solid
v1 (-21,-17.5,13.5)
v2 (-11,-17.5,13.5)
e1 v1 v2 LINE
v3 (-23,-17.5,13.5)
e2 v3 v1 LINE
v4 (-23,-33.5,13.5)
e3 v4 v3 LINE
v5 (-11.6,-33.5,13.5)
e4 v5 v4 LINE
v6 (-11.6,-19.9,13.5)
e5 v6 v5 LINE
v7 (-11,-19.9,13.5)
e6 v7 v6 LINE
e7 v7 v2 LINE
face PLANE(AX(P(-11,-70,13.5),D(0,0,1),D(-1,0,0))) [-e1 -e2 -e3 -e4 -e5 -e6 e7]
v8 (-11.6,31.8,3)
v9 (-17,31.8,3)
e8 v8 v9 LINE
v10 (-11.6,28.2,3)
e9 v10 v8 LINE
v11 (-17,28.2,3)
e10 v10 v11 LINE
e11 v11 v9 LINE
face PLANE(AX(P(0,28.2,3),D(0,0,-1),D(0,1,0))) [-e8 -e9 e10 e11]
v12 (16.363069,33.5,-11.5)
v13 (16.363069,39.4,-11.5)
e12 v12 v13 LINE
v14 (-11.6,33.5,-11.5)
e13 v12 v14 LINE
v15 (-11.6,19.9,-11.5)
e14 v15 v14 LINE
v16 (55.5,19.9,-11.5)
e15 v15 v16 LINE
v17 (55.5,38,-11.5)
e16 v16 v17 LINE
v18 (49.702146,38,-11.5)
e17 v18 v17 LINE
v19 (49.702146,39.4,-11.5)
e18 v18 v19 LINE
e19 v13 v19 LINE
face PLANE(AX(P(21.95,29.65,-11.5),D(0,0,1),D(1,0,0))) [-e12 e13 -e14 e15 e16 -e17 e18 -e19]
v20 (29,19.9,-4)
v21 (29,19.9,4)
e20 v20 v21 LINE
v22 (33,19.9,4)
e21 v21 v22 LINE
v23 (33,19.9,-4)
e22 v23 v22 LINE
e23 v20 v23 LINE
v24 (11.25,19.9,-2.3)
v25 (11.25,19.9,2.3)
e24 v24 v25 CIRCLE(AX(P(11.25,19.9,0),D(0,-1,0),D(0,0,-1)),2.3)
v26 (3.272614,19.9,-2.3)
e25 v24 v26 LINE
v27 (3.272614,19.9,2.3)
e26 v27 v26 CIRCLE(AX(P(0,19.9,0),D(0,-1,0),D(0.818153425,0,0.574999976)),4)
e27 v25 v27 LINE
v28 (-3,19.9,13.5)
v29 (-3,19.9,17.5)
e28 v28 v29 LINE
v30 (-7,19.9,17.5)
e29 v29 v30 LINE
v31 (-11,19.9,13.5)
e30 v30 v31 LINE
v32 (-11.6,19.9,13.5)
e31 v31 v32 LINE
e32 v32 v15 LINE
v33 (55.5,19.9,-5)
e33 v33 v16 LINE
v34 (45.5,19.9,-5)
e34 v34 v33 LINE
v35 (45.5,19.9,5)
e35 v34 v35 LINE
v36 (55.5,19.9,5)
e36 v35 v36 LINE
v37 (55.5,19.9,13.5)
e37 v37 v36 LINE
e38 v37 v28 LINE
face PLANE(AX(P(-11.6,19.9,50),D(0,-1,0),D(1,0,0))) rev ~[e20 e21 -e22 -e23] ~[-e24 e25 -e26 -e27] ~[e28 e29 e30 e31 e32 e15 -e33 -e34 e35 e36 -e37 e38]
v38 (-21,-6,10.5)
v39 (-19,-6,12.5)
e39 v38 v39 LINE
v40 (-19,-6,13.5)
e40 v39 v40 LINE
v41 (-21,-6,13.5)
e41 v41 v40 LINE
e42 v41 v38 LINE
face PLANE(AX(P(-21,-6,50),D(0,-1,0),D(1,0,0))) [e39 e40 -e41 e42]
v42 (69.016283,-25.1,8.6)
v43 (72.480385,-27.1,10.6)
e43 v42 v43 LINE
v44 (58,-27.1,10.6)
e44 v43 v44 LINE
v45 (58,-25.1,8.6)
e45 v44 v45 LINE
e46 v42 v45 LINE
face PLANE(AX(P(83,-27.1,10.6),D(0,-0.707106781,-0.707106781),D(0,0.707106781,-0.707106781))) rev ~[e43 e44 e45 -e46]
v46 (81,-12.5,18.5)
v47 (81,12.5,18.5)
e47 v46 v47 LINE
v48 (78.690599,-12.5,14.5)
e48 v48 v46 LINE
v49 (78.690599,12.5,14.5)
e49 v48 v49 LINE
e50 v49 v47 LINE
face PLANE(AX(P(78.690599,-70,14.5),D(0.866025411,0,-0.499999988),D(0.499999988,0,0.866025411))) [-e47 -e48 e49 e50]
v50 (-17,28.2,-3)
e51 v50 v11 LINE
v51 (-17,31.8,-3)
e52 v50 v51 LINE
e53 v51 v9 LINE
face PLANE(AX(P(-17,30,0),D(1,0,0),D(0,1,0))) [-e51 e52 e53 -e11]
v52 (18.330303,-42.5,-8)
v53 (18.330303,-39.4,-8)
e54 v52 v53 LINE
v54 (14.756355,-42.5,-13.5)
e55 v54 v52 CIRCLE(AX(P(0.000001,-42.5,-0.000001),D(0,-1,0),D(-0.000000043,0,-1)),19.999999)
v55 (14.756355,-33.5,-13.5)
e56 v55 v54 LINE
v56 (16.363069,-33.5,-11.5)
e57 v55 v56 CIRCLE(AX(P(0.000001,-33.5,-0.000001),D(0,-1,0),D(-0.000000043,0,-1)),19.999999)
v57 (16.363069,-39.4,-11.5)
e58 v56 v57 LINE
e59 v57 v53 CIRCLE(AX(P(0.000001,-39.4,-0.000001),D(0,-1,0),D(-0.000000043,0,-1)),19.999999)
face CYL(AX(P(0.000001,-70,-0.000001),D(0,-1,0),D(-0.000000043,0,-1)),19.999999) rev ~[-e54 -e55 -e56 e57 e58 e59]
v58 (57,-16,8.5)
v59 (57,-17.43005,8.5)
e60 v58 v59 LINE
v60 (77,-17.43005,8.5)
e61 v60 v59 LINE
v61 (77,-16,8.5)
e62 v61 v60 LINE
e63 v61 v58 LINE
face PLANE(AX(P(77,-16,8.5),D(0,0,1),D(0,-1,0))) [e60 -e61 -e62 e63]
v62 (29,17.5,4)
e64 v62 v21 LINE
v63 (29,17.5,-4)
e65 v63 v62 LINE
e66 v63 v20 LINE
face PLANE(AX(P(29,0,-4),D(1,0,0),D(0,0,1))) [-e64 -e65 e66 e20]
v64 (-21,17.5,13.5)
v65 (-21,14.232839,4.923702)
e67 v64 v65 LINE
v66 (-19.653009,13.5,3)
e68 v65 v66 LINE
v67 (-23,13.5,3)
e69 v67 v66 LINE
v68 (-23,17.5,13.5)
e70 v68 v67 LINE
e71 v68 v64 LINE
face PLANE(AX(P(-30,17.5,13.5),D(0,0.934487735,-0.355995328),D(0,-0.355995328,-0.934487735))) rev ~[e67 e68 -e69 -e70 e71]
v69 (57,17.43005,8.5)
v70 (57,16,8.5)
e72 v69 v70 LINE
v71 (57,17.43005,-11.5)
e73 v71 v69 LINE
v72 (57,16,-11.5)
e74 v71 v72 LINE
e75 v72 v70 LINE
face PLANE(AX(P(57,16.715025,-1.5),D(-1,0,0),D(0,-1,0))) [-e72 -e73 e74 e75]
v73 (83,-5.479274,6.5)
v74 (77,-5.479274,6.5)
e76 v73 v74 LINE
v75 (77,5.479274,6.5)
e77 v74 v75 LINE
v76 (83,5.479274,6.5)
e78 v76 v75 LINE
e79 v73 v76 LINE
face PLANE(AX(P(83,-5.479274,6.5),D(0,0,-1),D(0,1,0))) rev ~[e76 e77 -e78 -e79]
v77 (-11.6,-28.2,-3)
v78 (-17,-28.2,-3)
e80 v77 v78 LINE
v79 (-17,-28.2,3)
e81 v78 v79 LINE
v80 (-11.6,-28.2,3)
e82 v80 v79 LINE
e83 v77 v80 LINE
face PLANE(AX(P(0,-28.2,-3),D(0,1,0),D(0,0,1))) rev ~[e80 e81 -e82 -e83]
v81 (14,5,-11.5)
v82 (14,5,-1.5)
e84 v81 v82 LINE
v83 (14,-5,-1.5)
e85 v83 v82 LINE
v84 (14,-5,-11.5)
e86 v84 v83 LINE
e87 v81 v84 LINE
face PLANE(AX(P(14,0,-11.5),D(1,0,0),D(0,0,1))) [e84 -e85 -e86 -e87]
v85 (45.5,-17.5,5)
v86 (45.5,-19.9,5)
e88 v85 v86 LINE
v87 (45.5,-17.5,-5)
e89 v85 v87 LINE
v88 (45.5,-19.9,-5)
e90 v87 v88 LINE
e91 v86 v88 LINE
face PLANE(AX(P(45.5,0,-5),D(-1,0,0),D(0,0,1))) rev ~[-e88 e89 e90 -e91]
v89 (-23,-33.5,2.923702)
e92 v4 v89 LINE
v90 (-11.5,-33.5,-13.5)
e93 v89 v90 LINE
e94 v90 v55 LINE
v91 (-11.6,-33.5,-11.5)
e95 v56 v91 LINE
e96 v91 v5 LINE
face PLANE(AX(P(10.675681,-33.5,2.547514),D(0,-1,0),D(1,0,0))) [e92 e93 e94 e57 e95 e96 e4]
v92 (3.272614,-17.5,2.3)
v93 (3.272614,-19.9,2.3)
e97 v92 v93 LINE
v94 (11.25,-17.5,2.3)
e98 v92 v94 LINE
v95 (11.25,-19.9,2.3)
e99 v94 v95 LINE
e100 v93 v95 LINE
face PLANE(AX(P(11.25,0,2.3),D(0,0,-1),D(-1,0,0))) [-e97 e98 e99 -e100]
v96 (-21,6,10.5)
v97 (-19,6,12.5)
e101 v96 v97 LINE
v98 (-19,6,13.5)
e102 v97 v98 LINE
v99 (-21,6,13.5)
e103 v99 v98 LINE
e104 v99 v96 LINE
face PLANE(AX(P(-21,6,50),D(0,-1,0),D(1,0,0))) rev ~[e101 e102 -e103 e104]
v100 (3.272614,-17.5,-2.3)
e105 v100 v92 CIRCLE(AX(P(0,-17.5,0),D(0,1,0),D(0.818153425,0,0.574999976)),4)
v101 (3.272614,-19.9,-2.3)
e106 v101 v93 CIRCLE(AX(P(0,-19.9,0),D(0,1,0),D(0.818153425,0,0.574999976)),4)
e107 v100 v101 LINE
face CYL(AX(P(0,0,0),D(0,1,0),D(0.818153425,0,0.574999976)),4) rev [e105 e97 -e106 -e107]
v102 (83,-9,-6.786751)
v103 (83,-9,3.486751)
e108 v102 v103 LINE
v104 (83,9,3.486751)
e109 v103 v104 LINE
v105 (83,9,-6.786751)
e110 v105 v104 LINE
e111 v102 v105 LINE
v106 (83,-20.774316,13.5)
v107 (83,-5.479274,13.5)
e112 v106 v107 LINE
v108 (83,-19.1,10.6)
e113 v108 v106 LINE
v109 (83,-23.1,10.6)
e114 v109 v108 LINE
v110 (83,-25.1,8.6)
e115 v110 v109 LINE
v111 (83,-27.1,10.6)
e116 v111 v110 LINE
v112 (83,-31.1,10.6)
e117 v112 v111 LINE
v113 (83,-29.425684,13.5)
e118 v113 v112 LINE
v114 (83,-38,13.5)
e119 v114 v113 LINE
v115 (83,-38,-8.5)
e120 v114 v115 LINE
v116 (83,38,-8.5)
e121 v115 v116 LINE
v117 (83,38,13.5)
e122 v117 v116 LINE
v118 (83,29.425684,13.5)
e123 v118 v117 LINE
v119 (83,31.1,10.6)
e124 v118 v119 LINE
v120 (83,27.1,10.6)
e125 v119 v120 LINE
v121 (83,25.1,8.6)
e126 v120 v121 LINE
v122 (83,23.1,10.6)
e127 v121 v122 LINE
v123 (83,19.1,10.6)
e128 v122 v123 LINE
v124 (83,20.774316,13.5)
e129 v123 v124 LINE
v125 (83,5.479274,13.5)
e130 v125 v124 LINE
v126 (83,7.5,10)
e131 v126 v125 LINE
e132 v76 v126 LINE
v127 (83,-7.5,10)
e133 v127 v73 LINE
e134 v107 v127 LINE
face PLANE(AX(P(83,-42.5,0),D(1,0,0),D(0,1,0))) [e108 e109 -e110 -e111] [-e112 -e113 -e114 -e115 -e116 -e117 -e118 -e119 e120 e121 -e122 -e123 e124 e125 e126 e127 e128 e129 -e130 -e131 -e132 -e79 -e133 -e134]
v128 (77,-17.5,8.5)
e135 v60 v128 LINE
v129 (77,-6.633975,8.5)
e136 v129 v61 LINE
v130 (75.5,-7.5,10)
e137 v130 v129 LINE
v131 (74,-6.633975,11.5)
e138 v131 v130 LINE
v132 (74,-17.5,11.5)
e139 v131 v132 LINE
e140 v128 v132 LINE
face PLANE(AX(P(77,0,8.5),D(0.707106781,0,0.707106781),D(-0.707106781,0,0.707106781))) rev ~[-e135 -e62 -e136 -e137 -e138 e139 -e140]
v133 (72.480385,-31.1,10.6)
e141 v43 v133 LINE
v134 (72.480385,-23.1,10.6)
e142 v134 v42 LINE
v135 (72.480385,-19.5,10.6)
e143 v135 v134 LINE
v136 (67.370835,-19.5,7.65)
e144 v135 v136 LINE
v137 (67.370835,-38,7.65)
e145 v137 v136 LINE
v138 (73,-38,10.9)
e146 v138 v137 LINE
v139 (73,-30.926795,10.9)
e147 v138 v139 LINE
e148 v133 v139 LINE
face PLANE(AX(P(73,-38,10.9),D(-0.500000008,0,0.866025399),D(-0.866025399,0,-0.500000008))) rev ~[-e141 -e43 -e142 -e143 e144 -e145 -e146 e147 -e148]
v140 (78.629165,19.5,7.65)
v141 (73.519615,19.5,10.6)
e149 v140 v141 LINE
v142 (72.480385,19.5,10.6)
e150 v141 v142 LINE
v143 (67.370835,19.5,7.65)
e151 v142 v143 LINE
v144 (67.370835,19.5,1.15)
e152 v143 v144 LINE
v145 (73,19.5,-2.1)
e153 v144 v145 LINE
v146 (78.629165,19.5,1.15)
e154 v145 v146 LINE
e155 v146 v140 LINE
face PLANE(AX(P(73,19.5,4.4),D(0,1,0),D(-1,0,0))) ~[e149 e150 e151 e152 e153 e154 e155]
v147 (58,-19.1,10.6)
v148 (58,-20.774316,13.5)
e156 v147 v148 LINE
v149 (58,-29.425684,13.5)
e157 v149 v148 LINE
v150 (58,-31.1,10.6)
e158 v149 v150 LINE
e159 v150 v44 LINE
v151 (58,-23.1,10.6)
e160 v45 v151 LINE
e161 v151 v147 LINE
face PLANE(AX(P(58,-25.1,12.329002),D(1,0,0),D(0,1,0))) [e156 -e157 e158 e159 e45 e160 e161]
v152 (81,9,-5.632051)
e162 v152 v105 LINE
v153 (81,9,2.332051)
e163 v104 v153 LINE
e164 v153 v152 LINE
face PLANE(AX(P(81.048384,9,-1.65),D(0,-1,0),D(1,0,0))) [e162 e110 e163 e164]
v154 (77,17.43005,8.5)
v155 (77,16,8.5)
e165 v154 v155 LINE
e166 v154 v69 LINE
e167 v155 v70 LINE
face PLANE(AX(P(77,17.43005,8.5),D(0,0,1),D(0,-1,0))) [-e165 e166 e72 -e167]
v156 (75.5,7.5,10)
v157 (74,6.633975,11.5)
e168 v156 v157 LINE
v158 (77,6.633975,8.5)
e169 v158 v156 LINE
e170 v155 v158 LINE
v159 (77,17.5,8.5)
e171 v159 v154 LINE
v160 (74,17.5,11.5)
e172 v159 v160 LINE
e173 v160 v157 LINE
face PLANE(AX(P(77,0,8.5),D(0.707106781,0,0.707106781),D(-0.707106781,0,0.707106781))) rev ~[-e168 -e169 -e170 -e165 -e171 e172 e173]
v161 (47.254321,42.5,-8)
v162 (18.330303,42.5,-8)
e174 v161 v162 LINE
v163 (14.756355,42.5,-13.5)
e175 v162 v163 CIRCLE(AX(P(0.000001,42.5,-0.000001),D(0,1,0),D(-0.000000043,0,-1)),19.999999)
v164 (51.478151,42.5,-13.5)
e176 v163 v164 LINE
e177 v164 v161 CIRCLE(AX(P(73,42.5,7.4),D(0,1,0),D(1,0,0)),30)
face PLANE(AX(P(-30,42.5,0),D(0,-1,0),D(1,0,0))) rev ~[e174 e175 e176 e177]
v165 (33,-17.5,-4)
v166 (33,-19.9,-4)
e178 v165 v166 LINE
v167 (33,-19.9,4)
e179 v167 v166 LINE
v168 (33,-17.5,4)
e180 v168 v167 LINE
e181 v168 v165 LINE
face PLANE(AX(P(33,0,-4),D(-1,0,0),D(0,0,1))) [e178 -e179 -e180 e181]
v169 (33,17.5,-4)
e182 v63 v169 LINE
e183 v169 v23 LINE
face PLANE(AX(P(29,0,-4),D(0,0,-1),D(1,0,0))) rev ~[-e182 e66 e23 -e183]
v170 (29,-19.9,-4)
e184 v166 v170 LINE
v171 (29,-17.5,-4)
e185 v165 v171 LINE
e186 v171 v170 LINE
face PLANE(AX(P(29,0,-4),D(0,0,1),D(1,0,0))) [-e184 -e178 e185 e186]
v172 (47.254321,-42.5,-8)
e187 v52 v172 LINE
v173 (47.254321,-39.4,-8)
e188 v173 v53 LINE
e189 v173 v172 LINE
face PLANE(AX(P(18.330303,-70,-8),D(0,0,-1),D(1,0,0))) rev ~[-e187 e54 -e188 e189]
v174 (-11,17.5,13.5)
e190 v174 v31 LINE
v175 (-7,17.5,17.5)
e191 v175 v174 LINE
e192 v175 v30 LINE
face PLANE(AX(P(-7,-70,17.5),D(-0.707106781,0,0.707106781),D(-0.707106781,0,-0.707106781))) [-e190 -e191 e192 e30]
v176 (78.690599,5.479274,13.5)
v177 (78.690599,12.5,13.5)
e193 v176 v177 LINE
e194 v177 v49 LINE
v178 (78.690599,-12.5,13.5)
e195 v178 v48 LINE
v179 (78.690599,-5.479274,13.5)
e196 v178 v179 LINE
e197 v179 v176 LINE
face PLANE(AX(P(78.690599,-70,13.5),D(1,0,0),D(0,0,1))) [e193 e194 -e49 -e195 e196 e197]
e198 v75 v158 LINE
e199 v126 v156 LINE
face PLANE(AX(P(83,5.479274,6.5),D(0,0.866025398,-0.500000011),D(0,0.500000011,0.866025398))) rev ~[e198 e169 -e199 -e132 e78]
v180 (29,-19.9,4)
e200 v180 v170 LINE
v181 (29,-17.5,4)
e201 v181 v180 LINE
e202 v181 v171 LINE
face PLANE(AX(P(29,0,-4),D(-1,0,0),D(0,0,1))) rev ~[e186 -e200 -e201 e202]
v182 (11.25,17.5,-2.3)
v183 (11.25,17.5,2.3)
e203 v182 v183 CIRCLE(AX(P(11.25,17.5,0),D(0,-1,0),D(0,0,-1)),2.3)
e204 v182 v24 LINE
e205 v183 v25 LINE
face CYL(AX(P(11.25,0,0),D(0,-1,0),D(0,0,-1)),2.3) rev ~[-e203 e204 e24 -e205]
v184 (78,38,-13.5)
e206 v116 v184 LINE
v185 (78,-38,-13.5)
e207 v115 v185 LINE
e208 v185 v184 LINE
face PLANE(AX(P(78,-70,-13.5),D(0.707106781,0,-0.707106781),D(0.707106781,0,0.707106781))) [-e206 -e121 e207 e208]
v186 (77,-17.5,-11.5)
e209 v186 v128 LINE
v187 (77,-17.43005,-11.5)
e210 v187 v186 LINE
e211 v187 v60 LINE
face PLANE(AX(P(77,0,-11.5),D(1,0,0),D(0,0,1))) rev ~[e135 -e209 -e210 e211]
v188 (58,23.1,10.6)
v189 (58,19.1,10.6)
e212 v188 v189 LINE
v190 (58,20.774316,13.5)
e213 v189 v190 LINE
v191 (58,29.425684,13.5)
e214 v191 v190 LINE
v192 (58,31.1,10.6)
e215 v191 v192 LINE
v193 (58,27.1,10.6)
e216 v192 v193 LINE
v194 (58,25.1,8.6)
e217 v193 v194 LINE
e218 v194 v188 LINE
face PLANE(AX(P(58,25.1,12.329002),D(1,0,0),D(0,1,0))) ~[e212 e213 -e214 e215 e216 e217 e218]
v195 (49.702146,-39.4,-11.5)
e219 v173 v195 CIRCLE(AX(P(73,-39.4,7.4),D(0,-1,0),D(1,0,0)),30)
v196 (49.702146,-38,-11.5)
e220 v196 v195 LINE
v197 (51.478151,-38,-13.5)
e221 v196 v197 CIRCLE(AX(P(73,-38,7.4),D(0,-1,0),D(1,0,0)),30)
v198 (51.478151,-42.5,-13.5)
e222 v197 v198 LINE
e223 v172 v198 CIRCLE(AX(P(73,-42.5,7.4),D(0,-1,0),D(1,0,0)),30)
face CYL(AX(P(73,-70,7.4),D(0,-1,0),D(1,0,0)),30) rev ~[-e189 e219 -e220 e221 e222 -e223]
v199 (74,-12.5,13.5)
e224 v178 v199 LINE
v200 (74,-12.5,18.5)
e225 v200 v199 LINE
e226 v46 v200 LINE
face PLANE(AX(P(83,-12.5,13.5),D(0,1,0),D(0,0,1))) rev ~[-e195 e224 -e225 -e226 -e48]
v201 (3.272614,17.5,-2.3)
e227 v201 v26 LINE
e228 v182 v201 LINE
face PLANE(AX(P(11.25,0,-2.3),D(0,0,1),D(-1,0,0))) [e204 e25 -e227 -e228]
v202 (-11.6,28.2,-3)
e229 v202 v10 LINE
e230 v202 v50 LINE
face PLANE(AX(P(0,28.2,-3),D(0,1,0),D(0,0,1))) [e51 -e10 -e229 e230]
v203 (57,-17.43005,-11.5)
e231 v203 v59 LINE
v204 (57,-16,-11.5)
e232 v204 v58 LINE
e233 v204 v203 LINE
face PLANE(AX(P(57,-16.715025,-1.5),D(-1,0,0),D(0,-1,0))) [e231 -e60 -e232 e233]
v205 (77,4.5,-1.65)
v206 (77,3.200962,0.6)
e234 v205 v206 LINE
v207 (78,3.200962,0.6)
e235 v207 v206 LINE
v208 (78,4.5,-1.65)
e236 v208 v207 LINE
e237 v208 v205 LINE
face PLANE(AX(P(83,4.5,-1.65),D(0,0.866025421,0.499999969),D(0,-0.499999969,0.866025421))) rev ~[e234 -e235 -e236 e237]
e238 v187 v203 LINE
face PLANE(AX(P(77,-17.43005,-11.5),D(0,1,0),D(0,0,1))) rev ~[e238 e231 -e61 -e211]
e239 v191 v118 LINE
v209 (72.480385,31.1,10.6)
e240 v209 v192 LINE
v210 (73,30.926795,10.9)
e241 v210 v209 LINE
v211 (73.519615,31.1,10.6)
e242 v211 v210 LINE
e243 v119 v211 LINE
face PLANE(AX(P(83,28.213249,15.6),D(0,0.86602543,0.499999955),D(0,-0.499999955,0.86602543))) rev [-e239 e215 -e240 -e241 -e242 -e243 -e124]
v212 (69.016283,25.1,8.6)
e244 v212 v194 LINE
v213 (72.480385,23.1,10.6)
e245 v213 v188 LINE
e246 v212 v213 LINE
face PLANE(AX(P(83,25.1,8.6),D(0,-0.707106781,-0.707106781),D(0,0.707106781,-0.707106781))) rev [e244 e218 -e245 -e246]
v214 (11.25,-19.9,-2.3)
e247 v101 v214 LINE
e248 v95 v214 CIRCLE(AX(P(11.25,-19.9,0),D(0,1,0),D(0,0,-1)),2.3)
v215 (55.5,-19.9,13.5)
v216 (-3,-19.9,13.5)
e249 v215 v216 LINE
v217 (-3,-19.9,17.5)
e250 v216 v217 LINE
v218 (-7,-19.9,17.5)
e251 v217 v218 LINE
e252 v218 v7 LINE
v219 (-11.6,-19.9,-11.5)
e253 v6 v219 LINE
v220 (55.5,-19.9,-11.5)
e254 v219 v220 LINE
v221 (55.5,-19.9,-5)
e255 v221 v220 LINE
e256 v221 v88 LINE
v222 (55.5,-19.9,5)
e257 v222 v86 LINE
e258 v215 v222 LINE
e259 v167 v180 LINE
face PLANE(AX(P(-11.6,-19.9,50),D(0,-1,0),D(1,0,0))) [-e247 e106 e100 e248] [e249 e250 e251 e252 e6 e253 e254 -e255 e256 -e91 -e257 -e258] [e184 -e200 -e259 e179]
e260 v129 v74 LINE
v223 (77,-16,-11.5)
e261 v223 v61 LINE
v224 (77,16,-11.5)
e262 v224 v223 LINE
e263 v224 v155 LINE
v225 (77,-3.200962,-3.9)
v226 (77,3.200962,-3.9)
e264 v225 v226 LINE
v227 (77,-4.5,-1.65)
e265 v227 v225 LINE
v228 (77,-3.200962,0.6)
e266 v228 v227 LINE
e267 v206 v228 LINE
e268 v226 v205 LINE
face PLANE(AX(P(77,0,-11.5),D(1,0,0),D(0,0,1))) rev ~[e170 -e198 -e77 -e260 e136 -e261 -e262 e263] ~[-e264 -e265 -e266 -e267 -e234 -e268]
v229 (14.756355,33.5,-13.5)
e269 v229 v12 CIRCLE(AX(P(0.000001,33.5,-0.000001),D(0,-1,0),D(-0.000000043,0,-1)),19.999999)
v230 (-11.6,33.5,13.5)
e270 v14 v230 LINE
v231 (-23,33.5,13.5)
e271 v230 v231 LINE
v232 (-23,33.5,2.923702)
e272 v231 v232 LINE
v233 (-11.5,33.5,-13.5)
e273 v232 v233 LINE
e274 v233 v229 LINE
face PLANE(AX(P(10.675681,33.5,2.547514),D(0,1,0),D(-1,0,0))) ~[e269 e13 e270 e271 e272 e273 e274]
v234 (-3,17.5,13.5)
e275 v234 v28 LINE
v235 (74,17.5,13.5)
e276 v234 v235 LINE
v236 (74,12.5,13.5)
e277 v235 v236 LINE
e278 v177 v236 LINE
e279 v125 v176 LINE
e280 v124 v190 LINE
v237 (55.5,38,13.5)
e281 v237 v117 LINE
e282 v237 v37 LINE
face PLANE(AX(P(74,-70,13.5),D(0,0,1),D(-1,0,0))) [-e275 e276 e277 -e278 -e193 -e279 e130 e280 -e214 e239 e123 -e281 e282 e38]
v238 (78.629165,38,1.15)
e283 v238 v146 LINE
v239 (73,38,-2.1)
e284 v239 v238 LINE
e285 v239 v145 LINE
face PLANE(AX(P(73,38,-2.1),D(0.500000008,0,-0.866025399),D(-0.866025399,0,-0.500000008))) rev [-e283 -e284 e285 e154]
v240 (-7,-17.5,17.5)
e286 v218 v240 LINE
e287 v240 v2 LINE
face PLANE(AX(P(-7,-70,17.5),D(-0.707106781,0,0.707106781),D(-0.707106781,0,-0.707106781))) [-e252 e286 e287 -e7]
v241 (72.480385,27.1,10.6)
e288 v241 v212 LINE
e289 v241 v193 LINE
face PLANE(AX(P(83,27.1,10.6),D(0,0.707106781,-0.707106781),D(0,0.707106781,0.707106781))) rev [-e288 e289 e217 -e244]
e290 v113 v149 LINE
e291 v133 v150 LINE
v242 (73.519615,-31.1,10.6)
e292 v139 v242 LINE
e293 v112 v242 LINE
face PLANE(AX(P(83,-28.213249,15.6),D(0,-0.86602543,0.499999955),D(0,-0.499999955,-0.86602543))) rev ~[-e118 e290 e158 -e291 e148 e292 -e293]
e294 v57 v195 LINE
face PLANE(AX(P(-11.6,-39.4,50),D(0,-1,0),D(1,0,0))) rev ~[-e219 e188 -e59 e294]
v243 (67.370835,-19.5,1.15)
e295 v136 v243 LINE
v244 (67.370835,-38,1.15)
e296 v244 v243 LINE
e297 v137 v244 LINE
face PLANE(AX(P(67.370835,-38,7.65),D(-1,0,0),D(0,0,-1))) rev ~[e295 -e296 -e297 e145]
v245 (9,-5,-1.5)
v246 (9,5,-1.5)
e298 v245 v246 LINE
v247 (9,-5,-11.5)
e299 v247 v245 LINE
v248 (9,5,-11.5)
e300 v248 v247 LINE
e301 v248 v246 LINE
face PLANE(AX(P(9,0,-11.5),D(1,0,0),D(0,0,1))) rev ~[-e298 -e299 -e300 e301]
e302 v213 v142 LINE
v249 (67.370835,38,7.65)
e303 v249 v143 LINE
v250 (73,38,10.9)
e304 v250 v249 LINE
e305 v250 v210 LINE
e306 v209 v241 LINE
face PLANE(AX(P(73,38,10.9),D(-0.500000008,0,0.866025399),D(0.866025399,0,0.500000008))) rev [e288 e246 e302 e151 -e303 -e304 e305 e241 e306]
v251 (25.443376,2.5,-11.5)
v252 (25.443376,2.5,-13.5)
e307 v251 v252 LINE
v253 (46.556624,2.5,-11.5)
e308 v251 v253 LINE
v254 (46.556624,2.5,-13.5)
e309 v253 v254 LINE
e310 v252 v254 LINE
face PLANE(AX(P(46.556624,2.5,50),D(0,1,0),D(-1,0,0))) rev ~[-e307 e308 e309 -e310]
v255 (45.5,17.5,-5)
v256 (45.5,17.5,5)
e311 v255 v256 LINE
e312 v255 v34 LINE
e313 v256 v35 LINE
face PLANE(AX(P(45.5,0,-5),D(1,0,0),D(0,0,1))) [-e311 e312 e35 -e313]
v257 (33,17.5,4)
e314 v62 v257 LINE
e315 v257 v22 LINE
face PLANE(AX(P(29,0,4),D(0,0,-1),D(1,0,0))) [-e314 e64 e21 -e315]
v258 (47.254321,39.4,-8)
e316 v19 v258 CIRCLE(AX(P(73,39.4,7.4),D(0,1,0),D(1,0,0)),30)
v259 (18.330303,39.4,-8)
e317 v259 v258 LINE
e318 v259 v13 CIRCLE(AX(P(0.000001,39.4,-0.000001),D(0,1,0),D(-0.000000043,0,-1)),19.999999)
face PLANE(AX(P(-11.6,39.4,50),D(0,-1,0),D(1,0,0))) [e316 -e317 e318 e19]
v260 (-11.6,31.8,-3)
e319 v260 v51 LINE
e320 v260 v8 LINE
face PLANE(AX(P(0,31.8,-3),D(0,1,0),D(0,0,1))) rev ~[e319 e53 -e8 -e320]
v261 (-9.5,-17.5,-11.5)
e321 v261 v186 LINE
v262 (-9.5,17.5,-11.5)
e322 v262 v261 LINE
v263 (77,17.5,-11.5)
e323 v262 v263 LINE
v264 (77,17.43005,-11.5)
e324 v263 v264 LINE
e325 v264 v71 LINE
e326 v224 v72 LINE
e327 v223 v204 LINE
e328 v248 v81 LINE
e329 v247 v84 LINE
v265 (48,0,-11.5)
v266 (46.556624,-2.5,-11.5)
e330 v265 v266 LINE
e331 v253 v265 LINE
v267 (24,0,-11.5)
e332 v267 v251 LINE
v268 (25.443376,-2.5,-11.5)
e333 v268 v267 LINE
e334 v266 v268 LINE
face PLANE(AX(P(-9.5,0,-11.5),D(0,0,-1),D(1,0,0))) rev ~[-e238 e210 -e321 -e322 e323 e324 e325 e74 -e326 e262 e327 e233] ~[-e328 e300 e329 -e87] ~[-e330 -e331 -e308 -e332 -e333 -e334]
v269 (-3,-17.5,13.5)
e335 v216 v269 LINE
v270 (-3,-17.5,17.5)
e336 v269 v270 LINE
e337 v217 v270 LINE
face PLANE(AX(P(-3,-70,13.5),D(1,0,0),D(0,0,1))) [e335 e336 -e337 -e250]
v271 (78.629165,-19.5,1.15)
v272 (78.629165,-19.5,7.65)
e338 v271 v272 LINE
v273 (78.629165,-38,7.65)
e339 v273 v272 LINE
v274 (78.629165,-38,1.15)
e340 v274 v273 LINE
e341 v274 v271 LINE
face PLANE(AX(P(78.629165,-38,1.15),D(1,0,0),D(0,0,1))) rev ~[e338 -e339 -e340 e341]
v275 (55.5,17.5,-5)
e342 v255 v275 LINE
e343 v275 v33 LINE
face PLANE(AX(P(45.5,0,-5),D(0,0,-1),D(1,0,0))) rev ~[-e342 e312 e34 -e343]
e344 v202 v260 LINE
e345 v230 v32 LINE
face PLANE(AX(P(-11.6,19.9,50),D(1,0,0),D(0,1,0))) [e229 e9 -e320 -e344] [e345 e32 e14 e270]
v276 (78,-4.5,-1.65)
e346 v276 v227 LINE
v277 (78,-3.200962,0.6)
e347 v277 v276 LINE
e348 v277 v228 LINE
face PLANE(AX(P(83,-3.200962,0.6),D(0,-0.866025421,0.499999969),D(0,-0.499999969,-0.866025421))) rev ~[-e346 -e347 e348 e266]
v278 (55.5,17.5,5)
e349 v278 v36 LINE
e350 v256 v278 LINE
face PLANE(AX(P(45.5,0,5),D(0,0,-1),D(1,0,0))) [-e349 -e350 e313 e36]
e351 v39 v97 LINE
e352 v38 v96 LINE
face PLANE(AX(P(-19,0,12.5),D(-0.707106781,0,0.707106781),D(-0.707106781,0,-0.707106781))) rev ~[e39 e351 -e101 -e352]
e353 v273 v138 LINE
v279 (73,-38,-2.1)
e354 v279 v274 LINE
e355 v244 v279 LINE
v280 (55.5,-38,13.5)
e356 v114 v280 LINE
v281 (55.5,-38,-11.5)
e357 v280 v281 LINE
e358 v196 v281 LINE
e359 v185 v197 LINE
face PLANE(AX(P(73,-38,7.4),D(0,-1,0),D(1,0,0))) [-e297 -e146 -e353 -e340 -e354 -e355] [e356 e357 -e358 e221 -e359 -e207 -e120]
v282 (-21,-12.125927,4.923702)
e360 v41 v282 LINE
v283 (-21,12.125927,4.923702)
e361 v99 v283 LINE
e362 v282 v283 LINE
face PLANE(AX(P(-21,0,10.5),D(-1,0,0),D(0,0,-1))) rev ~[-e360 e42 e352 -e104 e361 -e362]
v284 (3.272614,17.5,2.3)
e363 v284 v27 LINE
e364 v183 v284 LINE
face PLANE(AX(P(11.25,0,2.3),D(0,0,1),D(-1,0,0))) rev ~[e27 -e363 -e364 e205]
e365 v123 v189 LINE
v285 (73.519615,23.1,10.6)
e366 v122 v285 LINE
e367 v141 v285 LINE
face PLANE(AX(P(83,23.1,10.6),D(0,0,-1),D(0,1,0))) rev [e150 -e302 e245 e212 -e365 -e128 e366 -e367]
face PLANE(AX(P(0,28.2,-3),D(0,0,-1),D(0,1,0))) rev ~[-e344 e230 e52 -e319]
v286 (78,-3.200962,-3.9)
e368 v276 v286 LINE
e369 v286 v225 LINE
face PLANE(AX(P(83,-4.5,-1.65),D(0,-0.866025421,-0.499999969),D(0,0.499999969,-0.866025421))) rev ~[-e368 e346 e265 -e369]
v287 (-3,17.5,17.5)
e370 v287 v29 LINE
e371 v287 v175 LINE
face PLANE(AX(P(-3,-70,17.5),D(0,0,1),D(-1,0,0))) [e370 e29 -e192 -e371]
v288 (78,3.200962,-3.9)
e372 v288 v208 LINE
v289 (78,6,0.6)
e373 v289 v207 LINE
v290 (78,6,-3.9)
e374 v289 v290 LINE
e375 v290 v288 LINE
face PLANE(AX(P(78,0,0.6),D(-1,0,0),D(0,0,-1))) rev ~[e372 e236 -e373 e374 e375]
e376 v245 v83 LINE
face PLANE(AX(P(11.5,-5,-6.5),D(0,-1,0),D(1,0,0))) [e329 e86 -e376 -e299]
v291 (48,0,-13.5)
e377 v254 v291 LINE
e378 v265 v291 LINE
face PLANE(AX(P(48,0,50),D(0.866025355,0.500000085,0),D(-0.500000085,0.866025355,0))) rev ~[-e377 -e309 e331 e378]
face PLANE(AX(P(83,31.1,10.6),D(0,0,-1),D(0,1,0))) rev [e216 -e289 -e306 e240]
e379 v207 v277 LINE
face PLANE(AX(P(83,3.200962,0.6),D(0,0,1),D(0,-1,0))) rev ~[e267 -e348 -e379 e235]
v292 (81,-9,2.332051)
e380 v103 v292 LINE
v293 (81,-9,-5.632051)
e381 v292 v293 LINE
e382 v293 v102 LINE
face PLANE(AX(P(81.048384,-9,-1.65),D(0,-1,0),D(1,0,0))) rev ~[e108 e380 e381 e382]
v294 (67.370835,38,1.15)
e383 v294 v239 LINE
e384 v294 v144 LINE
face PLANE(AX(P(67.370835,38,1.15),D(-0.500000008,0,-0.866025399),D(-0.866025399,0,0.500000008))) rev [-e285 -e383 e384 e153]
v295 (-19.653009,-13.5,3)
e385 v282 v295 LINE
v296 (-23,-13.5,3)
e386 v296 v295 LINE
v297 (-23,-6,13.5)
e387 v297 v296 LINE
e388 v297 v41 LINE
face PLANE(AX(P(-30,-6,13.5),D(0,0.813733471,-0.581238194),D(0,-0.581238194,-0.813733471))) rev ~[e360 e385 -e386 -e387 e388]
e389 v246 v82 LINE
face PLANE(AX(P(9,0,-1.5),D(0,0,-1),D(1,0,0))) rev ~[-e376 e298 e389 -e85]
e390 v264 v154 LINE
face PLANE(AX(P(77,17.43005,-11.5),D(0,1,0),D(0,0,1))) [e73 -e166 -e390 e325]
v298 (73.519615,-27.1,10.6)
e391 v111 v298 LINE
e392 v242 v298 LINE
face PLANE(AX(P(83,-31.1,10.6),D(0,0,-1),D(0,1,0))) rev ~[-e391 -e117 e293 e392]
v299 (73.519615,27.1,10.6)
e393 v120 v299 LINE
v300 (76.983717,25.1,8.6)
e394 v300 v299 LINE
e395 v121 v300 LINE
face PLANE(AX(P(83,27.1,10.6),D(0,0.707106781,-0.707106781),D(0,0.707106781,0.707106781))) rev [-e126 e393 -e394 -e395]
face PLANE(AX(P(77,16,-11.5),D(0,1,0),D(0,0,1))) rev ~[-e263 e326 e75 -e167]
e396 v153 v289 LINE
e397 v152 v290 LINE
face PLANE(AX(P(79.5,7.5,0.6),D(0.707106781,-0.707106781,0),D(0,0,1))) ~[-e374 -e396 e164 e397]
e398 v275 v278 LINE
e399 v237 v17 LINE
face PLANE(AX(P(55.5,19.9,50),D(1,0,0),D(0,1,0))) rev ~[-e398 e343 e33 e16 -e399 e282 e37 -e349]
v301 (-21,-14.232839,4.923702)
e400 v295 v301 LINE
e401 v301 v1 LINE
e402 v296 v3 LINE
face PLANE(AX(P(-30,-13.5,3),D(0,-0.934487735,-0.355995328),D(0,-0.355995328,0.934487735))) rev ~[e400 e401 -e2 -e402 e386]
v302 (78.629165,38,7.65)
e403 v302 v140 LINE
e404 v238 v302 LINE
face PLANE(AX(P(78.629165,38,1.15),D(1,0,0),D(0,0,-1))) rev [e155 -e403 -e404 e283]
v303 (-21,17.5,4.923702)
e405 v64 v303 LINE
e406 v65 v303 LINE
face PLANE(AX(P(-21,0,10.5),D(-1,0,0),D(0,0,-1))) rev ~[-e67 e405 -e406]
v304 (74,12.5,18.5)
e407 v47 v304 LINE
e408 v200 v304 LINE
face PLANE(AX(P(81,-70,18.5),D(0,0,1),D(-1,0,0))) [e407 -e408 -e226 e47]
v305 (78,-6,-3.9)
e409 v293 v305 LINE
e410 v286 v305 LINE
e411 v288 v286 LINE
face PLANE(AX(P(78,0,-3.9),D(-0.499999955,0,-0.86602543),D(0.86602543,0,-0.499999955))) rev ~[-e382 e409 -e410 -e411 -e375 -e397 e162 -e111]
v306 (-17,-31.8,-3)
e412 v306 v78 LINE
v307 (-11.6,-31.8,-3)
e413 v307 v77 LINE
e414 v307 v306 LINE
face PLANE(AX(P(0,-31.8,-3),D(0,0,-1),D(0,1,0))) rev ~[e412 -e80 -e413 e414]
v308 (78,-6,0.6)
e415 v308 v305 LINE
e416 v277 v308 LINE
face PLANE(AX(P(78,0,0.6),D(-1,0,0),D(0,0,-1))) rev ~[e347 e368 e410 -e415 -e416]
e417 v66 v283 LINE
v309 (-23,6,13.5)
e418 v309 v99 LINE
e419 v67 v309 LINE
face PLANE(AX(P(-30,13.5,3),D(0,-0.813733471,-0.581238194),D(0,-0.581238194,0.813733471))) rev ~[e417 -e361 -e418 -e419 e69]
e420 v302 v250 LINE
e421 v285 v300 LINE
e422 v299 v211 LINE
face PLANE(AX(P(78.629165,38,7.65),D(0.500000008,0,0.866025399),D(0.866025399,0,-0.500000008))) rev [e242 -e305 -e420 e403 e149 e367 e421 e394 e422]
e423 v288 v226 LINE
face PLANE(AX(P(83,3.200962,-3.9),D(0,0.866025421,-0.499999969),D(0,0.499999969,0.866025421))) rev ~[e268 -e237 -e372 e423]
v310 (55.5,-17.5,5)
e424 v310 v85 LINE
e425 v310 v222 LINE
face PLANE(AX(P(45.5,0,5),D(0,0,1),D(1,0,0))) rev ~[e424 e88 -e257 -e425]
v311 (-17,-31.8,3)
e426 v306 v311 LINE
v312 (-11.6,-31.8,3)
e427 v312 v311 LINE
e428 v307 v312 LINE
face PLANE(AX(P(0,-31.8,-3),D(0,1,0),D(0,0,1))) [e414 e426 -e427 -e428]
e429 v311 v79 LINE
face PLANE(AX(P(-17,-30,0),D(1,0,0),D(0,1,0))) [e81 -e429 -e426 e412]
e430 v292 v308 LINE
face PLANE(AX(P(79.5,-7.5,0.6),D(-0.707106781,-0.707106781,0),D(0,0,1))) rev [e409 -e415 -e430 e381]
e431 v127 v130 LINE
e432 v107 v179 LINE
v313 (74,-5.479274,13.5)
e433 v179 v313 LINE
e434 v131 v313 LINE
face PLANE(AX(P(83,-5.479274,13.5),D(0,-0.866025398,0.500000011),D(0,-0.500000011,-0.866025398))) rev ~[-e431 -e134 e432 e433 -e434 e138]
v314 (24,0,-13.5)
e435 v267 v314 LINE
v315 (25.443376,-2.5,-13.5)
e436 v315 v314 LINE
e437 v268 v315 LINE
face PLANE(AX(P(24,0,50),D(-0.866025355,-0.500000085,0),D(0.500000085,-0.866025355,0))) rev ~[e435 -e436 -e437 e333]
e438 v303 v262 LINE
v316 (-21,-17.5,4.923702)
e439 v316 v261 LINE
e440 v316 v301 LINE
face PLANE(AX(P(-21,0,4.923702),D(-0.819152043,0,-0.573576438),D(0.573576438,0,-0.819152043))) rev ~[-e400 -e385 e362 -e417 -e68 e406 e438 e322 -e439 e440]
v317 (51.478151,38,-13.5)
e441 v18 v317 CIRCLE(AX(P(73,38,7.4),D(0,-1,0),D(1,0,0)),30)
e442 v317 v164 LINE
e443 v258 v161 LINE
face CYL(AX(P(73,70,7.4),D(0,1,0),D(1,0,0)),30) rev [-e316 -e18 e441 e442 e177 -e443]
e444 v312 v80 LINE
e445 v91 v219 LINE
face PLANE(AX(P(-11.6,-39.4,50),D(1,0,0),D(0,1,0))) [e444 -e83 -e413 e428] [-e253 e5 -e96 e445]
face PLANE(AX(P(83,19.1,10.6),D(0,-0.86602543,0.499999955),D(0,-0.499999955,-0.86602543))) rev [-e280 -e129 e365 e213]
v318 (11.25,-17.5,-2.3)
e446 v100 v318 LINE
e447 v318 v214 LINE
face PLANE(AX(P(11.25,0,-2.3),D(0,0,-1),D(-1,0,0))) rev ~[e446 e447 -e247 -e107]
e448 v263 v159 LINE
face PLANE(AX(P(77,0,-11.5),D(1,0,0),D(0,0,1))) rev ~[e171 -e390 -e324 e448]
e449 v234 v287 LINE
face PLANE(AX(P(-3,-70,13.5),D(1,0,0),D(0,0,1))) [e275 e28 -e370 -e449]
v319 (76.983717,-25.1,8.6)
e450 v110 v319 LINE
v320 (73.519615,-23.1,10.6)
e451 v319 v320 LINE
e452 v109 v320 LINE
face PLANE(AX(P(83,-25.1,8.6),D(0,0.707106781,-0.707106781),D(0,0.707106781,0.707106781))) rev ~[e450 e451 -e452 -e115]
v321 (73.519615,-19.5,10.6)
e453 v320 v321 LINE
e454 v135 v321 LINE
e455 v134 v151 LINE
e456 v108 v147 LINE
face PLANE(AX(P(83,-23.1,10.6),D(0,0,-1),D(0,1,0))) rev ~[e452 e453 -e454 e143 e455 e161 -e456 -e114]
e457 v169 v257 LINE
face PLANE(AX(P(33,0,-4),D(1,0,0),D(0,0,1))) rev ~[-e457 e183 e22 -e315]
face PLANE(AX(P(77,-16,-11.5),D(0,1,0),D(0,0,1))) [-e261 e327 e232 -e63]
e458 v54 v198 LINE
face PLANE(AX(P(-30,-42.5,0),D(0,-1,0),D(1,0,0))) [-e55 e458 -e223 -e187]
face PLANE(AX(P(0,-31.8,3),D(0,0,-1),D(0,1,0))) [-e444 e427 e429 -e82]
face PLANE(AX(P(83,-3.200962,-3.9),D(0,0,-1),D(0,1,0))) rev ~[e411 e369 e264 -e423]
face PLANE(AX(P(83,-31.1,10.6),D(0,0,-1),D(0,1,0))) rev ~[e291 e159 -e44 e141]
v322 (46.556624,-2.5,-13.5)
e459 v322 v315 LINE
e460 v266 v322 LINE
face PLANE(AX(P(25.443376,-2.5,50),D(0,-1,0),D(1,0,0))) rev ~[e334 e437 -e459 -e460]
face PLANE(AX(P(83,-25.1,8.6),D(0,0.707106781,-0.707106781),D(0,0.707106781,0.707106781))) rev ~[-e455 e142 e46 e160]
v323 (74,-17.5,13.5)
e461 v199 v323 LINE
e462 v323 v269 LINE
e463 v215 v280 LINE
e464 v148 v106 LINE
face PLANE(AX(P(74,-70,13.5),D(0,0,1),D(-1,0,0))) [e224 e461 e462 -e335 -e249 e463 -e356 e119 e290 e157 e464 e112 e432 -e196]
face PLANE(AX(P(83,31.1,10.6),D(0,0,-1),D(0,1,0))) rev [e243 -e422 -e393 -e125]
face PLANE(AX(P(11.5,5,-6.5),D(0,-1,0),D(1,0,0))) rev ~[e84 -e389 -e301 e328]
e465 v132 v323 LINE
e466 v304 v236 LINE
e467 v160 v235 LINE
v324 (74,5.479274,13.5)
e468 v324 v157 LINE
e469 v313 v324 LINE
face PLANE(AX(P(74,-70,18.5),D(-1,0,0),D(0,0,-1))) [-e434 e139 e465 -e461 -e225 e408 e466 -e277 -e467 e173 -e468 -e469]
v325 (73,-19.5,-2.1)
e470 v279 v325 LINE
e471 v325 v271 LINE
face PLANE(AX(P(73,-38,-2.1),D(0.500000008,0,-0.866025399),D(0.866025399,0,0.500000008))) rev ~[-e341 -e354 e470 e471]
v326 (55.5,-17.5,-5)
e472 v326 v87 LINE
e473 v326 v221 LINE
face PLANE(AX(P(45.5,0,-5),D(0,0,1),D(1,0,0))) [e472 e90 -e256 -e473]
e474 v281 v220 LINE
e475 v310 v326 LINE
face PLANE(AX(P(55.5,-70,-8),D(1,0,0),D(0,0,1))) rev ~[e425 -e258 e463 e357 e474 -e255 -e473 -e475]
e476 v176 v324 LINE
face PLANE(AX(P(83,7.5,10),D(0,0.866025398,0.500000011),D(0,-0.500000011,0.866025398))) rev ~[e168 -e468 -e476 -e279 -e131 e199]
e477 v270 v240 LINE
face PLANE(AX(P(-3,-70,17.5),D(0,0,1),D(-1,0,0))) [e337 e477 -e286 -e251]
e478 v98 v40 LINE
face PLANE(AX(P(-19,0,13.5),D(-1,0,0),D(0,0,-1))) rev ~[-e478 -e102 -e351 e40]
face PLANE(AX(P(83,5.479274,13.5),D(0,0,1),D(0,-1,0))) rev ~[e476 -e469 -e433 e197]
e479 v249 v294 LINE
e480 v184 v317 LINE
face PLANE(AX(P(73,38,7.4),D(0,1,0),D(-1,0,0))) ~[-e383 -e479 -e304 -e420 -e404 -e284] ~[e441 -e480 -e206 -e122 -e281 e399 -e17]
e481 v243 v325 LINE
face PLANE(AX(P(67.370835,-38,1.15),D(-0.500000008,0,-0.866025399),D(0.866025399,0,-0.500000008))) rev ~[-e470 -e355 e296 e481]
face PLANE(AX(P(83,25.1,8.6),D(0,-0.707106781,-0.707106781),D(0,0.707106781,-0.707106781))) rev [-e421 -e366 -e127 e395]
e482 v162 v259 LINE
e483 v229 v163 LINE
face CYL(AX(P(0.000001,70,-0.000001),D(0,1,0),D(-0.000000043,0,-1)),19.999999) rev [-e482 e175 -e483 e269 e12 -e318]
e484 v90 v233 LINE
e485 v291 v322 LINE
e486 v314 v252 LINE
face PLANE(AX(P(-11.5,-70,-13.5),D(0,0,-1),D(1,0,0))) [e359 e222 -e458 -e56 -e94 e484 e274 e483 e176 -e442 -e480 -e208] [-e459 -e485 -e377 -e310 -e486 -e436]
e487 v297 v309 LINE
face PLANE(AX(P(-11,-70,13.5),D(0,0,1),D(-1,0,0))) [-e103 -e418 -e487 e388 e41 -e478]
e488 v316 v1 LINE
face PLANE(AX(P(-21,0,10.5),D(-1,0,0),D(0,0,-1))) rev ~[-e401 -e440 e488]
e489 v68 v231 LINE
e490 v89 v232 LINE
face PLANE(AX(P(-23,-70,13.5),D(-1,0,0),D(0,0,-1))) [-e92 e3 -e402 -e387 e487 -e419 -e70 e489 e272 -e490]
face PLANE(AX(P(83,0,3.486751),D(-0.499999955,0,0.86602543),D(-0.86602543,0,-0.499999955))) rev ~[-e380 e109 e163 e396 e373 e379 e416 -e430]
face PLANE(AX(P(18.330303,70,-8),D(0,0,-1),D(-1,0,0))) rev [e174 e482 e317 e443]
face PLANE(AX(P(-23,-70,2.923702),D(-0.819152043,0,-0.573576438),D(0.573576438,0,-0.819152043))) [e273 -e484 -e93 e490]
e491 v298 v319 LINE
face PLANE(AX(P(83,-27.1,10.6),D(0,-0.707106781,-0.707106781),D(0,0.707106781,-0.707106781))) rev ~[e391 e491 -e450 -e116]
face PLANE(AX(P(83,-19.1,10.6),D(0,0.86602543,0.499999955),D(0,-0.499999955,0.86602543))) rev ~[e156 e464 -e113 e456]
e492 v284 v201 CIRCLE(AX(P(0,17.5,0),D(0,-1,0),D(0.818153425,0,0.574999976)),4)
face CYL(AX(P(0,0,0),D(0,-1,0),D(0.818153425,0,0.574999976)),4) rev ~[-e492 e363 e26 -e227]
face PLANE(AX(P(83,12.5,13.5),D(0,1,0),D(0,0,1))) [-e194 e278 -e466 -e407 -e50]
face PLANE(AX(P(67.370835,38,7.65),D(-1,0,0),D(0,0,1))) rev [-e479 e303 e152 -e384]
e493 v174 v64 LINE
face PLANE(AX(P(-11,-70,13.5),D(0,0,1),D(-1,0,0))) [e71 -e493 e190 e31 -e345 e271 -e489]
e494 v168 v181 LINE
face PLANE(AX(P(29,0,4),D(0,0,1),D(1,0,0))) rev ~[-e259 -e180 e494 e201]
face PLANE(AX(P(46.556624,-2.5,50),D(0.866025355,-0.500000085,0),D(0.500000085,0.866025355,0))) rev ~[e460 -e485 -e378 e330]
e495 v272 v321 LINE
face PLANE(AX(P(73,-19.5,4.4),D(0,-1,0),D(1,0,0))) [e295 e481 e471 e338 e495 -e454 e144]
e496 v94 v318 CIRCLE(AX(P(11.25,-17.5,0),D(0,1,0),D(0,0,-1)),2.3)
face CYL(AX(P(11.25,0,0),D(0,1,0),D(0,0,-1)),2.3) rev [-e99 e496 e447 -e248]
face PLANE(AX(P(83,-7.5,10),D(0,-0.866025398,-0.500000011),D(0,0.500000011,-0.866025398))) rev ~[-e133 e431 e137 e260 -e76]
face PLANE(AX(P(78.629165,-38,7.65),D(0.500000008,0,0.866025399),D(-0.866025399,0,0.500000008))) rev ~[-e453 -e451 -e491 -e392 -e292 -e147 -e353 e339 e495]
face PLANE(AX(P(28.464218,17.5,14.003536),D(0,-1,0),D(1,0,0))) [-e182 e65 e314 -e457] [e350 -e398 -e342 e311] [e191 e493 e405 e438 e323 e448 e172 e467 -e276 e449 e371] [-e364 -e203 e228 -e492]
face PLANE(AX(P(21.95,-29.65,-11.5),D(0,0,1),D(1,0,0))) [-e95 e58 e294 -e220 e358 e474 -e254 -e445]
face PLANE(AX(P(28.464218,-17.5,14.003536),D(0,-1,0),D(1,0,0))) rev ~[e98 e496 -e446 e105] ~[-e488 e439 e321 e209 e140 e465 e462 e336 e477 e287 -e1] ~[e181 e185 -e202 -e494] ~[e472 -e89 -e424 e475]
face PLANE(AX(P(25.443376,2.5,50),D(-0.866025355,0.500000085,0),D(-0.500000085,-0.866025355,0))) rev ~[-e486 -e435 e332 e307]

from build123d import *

# Parameters (mm, degrees)
SKETCH001_W          = 113
SKETCH001_H          = 85
PAD001_DEPTH         = 25
POCKET_DEPTH         = 36.5
SKETCH003_W          = 67.1
SKETCH003_H          = 19.5
POCKET001_DEPTH      = 61.5
POCKET002_DEPTH      = 17.5
SKETCH005_W          = 4
SKETCH005_H          = 8
SKETCH005_W_2        = 10
SKETCH005_H_2        = 10
POCKET003_DEPTH      = 42.501
POCKET003_DEPTH_BACK = 42.501
SKETCH006_W          = 3.6
SKETCH006_H          = 6
POCKET004_DEPTH      = 17
SKETCH007_W          = 250
SKETCH007_H          = 80
POCKET005_DEPTH      = 112.501
SKETCH008_R          = 30
POCKET006_DEPTH      = 32
POCKET007_DEPTH      = 18.5
POCKET008_DEPTH      = 25
SKETCH012_W          = 37.5
SKETCH012_H          = 25
POCKET009_DEPTH      = 20
SKETCH026_W          = 5
SKETCH026_H          = 10
PAD008_DEPTH         = 5
POCKET014_DEPTH      = 63.501
POCKET015_DEPTH      = 15
SKETCH029_W          = 1.43005
SKETCH029_H          = 20
PAD009_DEPTH         = 20
POCKET016_DEPTH      = 9
CHAMFER_SIZE         = 3
POCKET017_DEPTH      = 15
SKETCH032_W          = 21
SKETCH032_H          = 11.5
POCKET018_DEPTH      = 41


with BuildPart() as part:
    # Sketch001 → Pad001 (new body, symmetric)
    with BuildSketch(Plane.XY):
        with Locations((26.5, 0)):
            Rectangle(SKETCH001_W, SKETCH001_H)
    extrude(amount=PAD001_DEPTH, both=True)

    # Sketch002 (on DatumPlane) → Pocket (cut)
    with BuildSketch(Plane.XZ.offset(70)):
        with BuildLine():
            ThreePointArc((0, -20), (10.954451, -16.733201), (18.330303, -8))
            Line((18.330303, -8), (55.5, -8))
            Line((55.5, -8), (55.5, 20))
            Line((55.5, 20), (-30, 20))
            Line((-30, 20), (-30, -20))
            Line((-30, -20), (0, -20))
        make_face()
    pocket = extrude(amount=-POCKET_DEPTH, mode=Mode.SUBTRACT)

    # Mirrored: Pocket across XZ
    add(pocket.mirror(Plane.XZ), mode=Mode.SUBTRACT)

    # Sketch003 (on DatumPlane) → Pocket001 (cut)
    with BuildSketch(Plane.XY.offset(50)):
        with Locations((21.95, -29.65)):
            Rectangle(SKETCH003_W, SKETCH003_H)
        with Locations((21.95, 29.65)):
            Rectangle(SKETCH003_W, SKETCH003_H)
    extrude(amount=-POCKET001_DEPTH, mode=Mode.SUBTRACT)

    # Sketch004 (on DatumPlane) → Pocket002 (cut, symmetric)
    with BuildSketch(Plane.XZ):
        Polygon((-21, 4.923702), (-9.5, -11.5), (77, -11.5), (77, 8.5), (74, 11.5), (74, 38.5), (-21, 38.5), (-21, 13.5), (-19, 13.5), (-19, 12.5), (-21, 10.5), align=None)
    extrude(amount=POCKET002_DEPTH, both=True, mode=Mode.SUBTRACT)

    # Sketch005 (on DatumPlane) → Pocket003 (cut, two sides)
    with BuildSketch(Plane.XZ) as pocket003_sk:
        with Locations((31, 0)):
            Rectangle(SKETCH005_W, SKETCH005_H)
        with Locations((50.5, 0)):
            Rectangle(SKETCH005_W_2, SKETCH005_H_2)
        with BuildLine():
            ThreePointArc((3.272614, 2.3), (-4, 0), (3.272614, -2.3))
            Line((11.25, -2.3), (3.272614, -2.3))
            ThreePointArc((11.25, -2.3), (13.55, 0), (11.25, 2.3))
            Line((11.25, 2.3), (3.272614, 2.3))
        make_face()
    extrude(amount=-POCKET003_DEPTH, mode=Mode.SUBTRACT)
    extrude(pocket003_sk.sketch, amount=POCKET003_DEPTH_BACK, mode=Mode.SUBTRACT)

    # Sketch006 (on DatumPlane) → Pocket004 (cut)
    with BuildSketch(Plane.YZ):
        with Locations((-30, 0)):
            Rectangle(SKETCH006_W, SKETCH006_H)
        with Locations((30, 0)):
            Rectangle(SKETCH006_W, SKETCH006_H)
    extrude(amount=-POCKET004_DEPTH, mode=Mode.SUBTRACT)

    # Sketch007 (on DatumPlane) → Pocket005 (cut, through all)
    with BuildSketch(Plane.XZ.offset(70)):
        Rectangle(SKETCH007_W, SKETCH007_H)
        Polygon((-11.5, -13.5), (78, -13.5), (83, -8.5), (83, 13.5), (78.690599, 13.5), (78.690599, 14.5), (81, 18.5), (74, 18.5), (74, 13.5), (-3, 13.5), (-3, 17.5), (-7, 17.5), (-11, 13.5), (-23, 13.5), (-23, 2.923702), align=None, mode=Mode.SUBTRACT)
    extrude(amount=-POCKET005_DEPTH, mode=Mode.SUBTRACT)

    # Sketch008 (on DatumPlane) → Pocket006 (cut)
    with BuildSketch(Plane.XZ.offset(70)):
        with Locations((73, 7.4)):
            Circle(SKETCH008_R)
    pocket006 = extrude(amount=-POCKET006_DEPTH, mode=Mode.SUBTRACT)

    # Mirrored001: Pocket006 across XZ
    add(pocket006.mirror(Plane.XZ), mode=Mode.SUBTRACT)

    # Sketch009 (on DatumPlane) → Pocket007 (cut)
    with BuildSketch(Plane.XZ.offset(38)):
        Polygon((73, 10.9), (67.370835, 7.65), (67.370835, 1.15), (73, -2.1), (78.629165, 1.15), (78.629165, 7.65), align=None)
    pocket007 = extrude(amount=-POCKET007_DEPTH, mode=Mode.SUBTRACT)

    # Sketch010 (on DatumPlane) → Pocket008 (cut)
    with BuildSketch(Plane.YZ.offset(83)):
        Polygon((-27.1, 10.6), (-25.1, 8.6), (-23.1, 10.6), (-19.1, 10.6), (-21.986751, 15.6), (-28.213249, 15.6), (-31.1, 10.6), align=None)
    pocket008 = extrude(amount=-POCKET008_DEPTH, mode=Mode.SUBTRACT)

    # Sketch012 (on DatumPlane) → Pocket009 (cut)
    with BuildSketch(Plane.YZ.offset(83)):
        with Locations((-31.25, 26)):
            Rectangle(SKETCH012_W, SKETCH012_H)
        with Locations((31.25, 26)):
            Rectangle(SKETCH012_W, SKETCH012_H)
    extrude(amount=-POCKET009_DEPTH, mode=Mode.SUBTRACT)

    # Mirrored002: Pocket007 across XZ
    add(pocket007.mirror(Plane.XZ), mode=Mode.SUBTRACT)

    # Mirrored003: Pocket008 across XZ
    add(pocket008.mirror(Plane.XZ), mode=Mode.SUBTRACT)

    # Sketch026 (on DatumPlane) → Pad008 (join, symmetric)
    with BuildSketch(Plane.XZ):
        with Locations((11.5, -6.5)):
            Rectangle(SKETCH026_W, SKETCH026_H)
    extrude(amount=PAD008_DEPTH, both=True)

    # Sketch027 (on DatumPlane) → Pocket014 (cut, through all)
    with BuildSketch(Plane.XY.offset(50)):
        Polygon((24, 0), (25.443376, -2.5), (28.330127, -2.5), (43.669873, -2.5), (46.556624, -2.5), (48, 0), (46.556624, 2.5), (43.669873, 2.5), (28.330127, 2.5), (25.443376, 2.5), align=None)
    extrude(amount=-POCKET014_DEPTH, mode=Mode.SUBTRACT)

    # Sketch028 (on DatumPlane) → Pocket015 (cut)
    with BuildSketch(Plane.YZ.offset(83)):
        Polygon((-4.5, -1.65), (-3.200962, -3.9), (-0.602886, -3.9), (0.602886, -3.9), (3.200962, -3.9), (4.5, -1.65), (3.200962, 0.6), (0.602886, 0.6), (-0.602886, 0.6), (-3.200962, 0.6), align=None)
        Polygon((-7.5, 10), (-5.479274, 6.5), (-1.437822, 6.5), (1.437822, 6.5), (5.479274, 6.5), (7.5, 10), (5.479274, 13.5), (1.437822, 13.5), (-1.437822, 13.5), (-5.479274, 13.5), align=None)
    extrude(amount=-POCKET015_DEPTH, mode=Mode.SUBTRACT)

    # Sketch029 (on DatumPlane) → Pad009 (join)
    with BuildSketch(Plane(origin=(77, 0, 0), x_dir=(0, -1, 0), z_dir=(-1, 0, 0))):
        with Locations((-16.715025, -1.5)):
            Rectangle(SKETCH029_W, SKETCH029_H)
        with Locations((16.715025, -1.5)):
            Rectangle(SKETCH029_W, SKETCH029_H)
    extrude(amount=PAD009_DEPTH)

    # Sketch030 (on DatumPlane) → Pocket016 (cut, symmetric)
    with BuildSketch(Plane.XZ):
        Polygon((83, 3.486751), (78, 0.6), (78, -3.9), (83, -6.786751), align=None)
    extrude(amount=POCKET016_DEPTH, both=True, mode=Mode.SUBTRACT)

    # Chamfer
    chamfer_edges = [part.edges().sort_by_distance(p)[0] for p in [
        (78, -9, -1.65),
        (78, 9, -1.65),
    ]]
    chamfer(chamfer_edges, length=CHAMFER_SIZE)

    # Sketch031 (on DatumPlane) → Pocket017 (cut)
    with BuildSketch(Plane(origin=(-30, 0, 0), x_dir=(0, -1, 0), z_dir=(-1, 0, 0))):
        Polygon((-17.5, 13.5), (-13.5, 3), (-6, 13.5), align=None)
        Polygon((6, 13.5), (13.5, 3), (17.5, 13.5), align=None)
    extrude(amount=-POCKET017_DEPTH, mode=Mode.SUBTRACT)

    # Sketch032 (on DatumPlane) → Pocket018 (cut)
    with BuildSketch(Plane.XY.offset(50)):
        with Locations((-10.5, 11.75)):
            Rectangle(SKETCH032_W, SKETCH032_H)
        with Locations((-10.5, -11.75)):
            Rectangle(SKETCH032_W, SKETCH032_H)
    extrude(amount=-POCKET018_DEPTH, mode=Mode.SUBTRACT)


solid = part.part
